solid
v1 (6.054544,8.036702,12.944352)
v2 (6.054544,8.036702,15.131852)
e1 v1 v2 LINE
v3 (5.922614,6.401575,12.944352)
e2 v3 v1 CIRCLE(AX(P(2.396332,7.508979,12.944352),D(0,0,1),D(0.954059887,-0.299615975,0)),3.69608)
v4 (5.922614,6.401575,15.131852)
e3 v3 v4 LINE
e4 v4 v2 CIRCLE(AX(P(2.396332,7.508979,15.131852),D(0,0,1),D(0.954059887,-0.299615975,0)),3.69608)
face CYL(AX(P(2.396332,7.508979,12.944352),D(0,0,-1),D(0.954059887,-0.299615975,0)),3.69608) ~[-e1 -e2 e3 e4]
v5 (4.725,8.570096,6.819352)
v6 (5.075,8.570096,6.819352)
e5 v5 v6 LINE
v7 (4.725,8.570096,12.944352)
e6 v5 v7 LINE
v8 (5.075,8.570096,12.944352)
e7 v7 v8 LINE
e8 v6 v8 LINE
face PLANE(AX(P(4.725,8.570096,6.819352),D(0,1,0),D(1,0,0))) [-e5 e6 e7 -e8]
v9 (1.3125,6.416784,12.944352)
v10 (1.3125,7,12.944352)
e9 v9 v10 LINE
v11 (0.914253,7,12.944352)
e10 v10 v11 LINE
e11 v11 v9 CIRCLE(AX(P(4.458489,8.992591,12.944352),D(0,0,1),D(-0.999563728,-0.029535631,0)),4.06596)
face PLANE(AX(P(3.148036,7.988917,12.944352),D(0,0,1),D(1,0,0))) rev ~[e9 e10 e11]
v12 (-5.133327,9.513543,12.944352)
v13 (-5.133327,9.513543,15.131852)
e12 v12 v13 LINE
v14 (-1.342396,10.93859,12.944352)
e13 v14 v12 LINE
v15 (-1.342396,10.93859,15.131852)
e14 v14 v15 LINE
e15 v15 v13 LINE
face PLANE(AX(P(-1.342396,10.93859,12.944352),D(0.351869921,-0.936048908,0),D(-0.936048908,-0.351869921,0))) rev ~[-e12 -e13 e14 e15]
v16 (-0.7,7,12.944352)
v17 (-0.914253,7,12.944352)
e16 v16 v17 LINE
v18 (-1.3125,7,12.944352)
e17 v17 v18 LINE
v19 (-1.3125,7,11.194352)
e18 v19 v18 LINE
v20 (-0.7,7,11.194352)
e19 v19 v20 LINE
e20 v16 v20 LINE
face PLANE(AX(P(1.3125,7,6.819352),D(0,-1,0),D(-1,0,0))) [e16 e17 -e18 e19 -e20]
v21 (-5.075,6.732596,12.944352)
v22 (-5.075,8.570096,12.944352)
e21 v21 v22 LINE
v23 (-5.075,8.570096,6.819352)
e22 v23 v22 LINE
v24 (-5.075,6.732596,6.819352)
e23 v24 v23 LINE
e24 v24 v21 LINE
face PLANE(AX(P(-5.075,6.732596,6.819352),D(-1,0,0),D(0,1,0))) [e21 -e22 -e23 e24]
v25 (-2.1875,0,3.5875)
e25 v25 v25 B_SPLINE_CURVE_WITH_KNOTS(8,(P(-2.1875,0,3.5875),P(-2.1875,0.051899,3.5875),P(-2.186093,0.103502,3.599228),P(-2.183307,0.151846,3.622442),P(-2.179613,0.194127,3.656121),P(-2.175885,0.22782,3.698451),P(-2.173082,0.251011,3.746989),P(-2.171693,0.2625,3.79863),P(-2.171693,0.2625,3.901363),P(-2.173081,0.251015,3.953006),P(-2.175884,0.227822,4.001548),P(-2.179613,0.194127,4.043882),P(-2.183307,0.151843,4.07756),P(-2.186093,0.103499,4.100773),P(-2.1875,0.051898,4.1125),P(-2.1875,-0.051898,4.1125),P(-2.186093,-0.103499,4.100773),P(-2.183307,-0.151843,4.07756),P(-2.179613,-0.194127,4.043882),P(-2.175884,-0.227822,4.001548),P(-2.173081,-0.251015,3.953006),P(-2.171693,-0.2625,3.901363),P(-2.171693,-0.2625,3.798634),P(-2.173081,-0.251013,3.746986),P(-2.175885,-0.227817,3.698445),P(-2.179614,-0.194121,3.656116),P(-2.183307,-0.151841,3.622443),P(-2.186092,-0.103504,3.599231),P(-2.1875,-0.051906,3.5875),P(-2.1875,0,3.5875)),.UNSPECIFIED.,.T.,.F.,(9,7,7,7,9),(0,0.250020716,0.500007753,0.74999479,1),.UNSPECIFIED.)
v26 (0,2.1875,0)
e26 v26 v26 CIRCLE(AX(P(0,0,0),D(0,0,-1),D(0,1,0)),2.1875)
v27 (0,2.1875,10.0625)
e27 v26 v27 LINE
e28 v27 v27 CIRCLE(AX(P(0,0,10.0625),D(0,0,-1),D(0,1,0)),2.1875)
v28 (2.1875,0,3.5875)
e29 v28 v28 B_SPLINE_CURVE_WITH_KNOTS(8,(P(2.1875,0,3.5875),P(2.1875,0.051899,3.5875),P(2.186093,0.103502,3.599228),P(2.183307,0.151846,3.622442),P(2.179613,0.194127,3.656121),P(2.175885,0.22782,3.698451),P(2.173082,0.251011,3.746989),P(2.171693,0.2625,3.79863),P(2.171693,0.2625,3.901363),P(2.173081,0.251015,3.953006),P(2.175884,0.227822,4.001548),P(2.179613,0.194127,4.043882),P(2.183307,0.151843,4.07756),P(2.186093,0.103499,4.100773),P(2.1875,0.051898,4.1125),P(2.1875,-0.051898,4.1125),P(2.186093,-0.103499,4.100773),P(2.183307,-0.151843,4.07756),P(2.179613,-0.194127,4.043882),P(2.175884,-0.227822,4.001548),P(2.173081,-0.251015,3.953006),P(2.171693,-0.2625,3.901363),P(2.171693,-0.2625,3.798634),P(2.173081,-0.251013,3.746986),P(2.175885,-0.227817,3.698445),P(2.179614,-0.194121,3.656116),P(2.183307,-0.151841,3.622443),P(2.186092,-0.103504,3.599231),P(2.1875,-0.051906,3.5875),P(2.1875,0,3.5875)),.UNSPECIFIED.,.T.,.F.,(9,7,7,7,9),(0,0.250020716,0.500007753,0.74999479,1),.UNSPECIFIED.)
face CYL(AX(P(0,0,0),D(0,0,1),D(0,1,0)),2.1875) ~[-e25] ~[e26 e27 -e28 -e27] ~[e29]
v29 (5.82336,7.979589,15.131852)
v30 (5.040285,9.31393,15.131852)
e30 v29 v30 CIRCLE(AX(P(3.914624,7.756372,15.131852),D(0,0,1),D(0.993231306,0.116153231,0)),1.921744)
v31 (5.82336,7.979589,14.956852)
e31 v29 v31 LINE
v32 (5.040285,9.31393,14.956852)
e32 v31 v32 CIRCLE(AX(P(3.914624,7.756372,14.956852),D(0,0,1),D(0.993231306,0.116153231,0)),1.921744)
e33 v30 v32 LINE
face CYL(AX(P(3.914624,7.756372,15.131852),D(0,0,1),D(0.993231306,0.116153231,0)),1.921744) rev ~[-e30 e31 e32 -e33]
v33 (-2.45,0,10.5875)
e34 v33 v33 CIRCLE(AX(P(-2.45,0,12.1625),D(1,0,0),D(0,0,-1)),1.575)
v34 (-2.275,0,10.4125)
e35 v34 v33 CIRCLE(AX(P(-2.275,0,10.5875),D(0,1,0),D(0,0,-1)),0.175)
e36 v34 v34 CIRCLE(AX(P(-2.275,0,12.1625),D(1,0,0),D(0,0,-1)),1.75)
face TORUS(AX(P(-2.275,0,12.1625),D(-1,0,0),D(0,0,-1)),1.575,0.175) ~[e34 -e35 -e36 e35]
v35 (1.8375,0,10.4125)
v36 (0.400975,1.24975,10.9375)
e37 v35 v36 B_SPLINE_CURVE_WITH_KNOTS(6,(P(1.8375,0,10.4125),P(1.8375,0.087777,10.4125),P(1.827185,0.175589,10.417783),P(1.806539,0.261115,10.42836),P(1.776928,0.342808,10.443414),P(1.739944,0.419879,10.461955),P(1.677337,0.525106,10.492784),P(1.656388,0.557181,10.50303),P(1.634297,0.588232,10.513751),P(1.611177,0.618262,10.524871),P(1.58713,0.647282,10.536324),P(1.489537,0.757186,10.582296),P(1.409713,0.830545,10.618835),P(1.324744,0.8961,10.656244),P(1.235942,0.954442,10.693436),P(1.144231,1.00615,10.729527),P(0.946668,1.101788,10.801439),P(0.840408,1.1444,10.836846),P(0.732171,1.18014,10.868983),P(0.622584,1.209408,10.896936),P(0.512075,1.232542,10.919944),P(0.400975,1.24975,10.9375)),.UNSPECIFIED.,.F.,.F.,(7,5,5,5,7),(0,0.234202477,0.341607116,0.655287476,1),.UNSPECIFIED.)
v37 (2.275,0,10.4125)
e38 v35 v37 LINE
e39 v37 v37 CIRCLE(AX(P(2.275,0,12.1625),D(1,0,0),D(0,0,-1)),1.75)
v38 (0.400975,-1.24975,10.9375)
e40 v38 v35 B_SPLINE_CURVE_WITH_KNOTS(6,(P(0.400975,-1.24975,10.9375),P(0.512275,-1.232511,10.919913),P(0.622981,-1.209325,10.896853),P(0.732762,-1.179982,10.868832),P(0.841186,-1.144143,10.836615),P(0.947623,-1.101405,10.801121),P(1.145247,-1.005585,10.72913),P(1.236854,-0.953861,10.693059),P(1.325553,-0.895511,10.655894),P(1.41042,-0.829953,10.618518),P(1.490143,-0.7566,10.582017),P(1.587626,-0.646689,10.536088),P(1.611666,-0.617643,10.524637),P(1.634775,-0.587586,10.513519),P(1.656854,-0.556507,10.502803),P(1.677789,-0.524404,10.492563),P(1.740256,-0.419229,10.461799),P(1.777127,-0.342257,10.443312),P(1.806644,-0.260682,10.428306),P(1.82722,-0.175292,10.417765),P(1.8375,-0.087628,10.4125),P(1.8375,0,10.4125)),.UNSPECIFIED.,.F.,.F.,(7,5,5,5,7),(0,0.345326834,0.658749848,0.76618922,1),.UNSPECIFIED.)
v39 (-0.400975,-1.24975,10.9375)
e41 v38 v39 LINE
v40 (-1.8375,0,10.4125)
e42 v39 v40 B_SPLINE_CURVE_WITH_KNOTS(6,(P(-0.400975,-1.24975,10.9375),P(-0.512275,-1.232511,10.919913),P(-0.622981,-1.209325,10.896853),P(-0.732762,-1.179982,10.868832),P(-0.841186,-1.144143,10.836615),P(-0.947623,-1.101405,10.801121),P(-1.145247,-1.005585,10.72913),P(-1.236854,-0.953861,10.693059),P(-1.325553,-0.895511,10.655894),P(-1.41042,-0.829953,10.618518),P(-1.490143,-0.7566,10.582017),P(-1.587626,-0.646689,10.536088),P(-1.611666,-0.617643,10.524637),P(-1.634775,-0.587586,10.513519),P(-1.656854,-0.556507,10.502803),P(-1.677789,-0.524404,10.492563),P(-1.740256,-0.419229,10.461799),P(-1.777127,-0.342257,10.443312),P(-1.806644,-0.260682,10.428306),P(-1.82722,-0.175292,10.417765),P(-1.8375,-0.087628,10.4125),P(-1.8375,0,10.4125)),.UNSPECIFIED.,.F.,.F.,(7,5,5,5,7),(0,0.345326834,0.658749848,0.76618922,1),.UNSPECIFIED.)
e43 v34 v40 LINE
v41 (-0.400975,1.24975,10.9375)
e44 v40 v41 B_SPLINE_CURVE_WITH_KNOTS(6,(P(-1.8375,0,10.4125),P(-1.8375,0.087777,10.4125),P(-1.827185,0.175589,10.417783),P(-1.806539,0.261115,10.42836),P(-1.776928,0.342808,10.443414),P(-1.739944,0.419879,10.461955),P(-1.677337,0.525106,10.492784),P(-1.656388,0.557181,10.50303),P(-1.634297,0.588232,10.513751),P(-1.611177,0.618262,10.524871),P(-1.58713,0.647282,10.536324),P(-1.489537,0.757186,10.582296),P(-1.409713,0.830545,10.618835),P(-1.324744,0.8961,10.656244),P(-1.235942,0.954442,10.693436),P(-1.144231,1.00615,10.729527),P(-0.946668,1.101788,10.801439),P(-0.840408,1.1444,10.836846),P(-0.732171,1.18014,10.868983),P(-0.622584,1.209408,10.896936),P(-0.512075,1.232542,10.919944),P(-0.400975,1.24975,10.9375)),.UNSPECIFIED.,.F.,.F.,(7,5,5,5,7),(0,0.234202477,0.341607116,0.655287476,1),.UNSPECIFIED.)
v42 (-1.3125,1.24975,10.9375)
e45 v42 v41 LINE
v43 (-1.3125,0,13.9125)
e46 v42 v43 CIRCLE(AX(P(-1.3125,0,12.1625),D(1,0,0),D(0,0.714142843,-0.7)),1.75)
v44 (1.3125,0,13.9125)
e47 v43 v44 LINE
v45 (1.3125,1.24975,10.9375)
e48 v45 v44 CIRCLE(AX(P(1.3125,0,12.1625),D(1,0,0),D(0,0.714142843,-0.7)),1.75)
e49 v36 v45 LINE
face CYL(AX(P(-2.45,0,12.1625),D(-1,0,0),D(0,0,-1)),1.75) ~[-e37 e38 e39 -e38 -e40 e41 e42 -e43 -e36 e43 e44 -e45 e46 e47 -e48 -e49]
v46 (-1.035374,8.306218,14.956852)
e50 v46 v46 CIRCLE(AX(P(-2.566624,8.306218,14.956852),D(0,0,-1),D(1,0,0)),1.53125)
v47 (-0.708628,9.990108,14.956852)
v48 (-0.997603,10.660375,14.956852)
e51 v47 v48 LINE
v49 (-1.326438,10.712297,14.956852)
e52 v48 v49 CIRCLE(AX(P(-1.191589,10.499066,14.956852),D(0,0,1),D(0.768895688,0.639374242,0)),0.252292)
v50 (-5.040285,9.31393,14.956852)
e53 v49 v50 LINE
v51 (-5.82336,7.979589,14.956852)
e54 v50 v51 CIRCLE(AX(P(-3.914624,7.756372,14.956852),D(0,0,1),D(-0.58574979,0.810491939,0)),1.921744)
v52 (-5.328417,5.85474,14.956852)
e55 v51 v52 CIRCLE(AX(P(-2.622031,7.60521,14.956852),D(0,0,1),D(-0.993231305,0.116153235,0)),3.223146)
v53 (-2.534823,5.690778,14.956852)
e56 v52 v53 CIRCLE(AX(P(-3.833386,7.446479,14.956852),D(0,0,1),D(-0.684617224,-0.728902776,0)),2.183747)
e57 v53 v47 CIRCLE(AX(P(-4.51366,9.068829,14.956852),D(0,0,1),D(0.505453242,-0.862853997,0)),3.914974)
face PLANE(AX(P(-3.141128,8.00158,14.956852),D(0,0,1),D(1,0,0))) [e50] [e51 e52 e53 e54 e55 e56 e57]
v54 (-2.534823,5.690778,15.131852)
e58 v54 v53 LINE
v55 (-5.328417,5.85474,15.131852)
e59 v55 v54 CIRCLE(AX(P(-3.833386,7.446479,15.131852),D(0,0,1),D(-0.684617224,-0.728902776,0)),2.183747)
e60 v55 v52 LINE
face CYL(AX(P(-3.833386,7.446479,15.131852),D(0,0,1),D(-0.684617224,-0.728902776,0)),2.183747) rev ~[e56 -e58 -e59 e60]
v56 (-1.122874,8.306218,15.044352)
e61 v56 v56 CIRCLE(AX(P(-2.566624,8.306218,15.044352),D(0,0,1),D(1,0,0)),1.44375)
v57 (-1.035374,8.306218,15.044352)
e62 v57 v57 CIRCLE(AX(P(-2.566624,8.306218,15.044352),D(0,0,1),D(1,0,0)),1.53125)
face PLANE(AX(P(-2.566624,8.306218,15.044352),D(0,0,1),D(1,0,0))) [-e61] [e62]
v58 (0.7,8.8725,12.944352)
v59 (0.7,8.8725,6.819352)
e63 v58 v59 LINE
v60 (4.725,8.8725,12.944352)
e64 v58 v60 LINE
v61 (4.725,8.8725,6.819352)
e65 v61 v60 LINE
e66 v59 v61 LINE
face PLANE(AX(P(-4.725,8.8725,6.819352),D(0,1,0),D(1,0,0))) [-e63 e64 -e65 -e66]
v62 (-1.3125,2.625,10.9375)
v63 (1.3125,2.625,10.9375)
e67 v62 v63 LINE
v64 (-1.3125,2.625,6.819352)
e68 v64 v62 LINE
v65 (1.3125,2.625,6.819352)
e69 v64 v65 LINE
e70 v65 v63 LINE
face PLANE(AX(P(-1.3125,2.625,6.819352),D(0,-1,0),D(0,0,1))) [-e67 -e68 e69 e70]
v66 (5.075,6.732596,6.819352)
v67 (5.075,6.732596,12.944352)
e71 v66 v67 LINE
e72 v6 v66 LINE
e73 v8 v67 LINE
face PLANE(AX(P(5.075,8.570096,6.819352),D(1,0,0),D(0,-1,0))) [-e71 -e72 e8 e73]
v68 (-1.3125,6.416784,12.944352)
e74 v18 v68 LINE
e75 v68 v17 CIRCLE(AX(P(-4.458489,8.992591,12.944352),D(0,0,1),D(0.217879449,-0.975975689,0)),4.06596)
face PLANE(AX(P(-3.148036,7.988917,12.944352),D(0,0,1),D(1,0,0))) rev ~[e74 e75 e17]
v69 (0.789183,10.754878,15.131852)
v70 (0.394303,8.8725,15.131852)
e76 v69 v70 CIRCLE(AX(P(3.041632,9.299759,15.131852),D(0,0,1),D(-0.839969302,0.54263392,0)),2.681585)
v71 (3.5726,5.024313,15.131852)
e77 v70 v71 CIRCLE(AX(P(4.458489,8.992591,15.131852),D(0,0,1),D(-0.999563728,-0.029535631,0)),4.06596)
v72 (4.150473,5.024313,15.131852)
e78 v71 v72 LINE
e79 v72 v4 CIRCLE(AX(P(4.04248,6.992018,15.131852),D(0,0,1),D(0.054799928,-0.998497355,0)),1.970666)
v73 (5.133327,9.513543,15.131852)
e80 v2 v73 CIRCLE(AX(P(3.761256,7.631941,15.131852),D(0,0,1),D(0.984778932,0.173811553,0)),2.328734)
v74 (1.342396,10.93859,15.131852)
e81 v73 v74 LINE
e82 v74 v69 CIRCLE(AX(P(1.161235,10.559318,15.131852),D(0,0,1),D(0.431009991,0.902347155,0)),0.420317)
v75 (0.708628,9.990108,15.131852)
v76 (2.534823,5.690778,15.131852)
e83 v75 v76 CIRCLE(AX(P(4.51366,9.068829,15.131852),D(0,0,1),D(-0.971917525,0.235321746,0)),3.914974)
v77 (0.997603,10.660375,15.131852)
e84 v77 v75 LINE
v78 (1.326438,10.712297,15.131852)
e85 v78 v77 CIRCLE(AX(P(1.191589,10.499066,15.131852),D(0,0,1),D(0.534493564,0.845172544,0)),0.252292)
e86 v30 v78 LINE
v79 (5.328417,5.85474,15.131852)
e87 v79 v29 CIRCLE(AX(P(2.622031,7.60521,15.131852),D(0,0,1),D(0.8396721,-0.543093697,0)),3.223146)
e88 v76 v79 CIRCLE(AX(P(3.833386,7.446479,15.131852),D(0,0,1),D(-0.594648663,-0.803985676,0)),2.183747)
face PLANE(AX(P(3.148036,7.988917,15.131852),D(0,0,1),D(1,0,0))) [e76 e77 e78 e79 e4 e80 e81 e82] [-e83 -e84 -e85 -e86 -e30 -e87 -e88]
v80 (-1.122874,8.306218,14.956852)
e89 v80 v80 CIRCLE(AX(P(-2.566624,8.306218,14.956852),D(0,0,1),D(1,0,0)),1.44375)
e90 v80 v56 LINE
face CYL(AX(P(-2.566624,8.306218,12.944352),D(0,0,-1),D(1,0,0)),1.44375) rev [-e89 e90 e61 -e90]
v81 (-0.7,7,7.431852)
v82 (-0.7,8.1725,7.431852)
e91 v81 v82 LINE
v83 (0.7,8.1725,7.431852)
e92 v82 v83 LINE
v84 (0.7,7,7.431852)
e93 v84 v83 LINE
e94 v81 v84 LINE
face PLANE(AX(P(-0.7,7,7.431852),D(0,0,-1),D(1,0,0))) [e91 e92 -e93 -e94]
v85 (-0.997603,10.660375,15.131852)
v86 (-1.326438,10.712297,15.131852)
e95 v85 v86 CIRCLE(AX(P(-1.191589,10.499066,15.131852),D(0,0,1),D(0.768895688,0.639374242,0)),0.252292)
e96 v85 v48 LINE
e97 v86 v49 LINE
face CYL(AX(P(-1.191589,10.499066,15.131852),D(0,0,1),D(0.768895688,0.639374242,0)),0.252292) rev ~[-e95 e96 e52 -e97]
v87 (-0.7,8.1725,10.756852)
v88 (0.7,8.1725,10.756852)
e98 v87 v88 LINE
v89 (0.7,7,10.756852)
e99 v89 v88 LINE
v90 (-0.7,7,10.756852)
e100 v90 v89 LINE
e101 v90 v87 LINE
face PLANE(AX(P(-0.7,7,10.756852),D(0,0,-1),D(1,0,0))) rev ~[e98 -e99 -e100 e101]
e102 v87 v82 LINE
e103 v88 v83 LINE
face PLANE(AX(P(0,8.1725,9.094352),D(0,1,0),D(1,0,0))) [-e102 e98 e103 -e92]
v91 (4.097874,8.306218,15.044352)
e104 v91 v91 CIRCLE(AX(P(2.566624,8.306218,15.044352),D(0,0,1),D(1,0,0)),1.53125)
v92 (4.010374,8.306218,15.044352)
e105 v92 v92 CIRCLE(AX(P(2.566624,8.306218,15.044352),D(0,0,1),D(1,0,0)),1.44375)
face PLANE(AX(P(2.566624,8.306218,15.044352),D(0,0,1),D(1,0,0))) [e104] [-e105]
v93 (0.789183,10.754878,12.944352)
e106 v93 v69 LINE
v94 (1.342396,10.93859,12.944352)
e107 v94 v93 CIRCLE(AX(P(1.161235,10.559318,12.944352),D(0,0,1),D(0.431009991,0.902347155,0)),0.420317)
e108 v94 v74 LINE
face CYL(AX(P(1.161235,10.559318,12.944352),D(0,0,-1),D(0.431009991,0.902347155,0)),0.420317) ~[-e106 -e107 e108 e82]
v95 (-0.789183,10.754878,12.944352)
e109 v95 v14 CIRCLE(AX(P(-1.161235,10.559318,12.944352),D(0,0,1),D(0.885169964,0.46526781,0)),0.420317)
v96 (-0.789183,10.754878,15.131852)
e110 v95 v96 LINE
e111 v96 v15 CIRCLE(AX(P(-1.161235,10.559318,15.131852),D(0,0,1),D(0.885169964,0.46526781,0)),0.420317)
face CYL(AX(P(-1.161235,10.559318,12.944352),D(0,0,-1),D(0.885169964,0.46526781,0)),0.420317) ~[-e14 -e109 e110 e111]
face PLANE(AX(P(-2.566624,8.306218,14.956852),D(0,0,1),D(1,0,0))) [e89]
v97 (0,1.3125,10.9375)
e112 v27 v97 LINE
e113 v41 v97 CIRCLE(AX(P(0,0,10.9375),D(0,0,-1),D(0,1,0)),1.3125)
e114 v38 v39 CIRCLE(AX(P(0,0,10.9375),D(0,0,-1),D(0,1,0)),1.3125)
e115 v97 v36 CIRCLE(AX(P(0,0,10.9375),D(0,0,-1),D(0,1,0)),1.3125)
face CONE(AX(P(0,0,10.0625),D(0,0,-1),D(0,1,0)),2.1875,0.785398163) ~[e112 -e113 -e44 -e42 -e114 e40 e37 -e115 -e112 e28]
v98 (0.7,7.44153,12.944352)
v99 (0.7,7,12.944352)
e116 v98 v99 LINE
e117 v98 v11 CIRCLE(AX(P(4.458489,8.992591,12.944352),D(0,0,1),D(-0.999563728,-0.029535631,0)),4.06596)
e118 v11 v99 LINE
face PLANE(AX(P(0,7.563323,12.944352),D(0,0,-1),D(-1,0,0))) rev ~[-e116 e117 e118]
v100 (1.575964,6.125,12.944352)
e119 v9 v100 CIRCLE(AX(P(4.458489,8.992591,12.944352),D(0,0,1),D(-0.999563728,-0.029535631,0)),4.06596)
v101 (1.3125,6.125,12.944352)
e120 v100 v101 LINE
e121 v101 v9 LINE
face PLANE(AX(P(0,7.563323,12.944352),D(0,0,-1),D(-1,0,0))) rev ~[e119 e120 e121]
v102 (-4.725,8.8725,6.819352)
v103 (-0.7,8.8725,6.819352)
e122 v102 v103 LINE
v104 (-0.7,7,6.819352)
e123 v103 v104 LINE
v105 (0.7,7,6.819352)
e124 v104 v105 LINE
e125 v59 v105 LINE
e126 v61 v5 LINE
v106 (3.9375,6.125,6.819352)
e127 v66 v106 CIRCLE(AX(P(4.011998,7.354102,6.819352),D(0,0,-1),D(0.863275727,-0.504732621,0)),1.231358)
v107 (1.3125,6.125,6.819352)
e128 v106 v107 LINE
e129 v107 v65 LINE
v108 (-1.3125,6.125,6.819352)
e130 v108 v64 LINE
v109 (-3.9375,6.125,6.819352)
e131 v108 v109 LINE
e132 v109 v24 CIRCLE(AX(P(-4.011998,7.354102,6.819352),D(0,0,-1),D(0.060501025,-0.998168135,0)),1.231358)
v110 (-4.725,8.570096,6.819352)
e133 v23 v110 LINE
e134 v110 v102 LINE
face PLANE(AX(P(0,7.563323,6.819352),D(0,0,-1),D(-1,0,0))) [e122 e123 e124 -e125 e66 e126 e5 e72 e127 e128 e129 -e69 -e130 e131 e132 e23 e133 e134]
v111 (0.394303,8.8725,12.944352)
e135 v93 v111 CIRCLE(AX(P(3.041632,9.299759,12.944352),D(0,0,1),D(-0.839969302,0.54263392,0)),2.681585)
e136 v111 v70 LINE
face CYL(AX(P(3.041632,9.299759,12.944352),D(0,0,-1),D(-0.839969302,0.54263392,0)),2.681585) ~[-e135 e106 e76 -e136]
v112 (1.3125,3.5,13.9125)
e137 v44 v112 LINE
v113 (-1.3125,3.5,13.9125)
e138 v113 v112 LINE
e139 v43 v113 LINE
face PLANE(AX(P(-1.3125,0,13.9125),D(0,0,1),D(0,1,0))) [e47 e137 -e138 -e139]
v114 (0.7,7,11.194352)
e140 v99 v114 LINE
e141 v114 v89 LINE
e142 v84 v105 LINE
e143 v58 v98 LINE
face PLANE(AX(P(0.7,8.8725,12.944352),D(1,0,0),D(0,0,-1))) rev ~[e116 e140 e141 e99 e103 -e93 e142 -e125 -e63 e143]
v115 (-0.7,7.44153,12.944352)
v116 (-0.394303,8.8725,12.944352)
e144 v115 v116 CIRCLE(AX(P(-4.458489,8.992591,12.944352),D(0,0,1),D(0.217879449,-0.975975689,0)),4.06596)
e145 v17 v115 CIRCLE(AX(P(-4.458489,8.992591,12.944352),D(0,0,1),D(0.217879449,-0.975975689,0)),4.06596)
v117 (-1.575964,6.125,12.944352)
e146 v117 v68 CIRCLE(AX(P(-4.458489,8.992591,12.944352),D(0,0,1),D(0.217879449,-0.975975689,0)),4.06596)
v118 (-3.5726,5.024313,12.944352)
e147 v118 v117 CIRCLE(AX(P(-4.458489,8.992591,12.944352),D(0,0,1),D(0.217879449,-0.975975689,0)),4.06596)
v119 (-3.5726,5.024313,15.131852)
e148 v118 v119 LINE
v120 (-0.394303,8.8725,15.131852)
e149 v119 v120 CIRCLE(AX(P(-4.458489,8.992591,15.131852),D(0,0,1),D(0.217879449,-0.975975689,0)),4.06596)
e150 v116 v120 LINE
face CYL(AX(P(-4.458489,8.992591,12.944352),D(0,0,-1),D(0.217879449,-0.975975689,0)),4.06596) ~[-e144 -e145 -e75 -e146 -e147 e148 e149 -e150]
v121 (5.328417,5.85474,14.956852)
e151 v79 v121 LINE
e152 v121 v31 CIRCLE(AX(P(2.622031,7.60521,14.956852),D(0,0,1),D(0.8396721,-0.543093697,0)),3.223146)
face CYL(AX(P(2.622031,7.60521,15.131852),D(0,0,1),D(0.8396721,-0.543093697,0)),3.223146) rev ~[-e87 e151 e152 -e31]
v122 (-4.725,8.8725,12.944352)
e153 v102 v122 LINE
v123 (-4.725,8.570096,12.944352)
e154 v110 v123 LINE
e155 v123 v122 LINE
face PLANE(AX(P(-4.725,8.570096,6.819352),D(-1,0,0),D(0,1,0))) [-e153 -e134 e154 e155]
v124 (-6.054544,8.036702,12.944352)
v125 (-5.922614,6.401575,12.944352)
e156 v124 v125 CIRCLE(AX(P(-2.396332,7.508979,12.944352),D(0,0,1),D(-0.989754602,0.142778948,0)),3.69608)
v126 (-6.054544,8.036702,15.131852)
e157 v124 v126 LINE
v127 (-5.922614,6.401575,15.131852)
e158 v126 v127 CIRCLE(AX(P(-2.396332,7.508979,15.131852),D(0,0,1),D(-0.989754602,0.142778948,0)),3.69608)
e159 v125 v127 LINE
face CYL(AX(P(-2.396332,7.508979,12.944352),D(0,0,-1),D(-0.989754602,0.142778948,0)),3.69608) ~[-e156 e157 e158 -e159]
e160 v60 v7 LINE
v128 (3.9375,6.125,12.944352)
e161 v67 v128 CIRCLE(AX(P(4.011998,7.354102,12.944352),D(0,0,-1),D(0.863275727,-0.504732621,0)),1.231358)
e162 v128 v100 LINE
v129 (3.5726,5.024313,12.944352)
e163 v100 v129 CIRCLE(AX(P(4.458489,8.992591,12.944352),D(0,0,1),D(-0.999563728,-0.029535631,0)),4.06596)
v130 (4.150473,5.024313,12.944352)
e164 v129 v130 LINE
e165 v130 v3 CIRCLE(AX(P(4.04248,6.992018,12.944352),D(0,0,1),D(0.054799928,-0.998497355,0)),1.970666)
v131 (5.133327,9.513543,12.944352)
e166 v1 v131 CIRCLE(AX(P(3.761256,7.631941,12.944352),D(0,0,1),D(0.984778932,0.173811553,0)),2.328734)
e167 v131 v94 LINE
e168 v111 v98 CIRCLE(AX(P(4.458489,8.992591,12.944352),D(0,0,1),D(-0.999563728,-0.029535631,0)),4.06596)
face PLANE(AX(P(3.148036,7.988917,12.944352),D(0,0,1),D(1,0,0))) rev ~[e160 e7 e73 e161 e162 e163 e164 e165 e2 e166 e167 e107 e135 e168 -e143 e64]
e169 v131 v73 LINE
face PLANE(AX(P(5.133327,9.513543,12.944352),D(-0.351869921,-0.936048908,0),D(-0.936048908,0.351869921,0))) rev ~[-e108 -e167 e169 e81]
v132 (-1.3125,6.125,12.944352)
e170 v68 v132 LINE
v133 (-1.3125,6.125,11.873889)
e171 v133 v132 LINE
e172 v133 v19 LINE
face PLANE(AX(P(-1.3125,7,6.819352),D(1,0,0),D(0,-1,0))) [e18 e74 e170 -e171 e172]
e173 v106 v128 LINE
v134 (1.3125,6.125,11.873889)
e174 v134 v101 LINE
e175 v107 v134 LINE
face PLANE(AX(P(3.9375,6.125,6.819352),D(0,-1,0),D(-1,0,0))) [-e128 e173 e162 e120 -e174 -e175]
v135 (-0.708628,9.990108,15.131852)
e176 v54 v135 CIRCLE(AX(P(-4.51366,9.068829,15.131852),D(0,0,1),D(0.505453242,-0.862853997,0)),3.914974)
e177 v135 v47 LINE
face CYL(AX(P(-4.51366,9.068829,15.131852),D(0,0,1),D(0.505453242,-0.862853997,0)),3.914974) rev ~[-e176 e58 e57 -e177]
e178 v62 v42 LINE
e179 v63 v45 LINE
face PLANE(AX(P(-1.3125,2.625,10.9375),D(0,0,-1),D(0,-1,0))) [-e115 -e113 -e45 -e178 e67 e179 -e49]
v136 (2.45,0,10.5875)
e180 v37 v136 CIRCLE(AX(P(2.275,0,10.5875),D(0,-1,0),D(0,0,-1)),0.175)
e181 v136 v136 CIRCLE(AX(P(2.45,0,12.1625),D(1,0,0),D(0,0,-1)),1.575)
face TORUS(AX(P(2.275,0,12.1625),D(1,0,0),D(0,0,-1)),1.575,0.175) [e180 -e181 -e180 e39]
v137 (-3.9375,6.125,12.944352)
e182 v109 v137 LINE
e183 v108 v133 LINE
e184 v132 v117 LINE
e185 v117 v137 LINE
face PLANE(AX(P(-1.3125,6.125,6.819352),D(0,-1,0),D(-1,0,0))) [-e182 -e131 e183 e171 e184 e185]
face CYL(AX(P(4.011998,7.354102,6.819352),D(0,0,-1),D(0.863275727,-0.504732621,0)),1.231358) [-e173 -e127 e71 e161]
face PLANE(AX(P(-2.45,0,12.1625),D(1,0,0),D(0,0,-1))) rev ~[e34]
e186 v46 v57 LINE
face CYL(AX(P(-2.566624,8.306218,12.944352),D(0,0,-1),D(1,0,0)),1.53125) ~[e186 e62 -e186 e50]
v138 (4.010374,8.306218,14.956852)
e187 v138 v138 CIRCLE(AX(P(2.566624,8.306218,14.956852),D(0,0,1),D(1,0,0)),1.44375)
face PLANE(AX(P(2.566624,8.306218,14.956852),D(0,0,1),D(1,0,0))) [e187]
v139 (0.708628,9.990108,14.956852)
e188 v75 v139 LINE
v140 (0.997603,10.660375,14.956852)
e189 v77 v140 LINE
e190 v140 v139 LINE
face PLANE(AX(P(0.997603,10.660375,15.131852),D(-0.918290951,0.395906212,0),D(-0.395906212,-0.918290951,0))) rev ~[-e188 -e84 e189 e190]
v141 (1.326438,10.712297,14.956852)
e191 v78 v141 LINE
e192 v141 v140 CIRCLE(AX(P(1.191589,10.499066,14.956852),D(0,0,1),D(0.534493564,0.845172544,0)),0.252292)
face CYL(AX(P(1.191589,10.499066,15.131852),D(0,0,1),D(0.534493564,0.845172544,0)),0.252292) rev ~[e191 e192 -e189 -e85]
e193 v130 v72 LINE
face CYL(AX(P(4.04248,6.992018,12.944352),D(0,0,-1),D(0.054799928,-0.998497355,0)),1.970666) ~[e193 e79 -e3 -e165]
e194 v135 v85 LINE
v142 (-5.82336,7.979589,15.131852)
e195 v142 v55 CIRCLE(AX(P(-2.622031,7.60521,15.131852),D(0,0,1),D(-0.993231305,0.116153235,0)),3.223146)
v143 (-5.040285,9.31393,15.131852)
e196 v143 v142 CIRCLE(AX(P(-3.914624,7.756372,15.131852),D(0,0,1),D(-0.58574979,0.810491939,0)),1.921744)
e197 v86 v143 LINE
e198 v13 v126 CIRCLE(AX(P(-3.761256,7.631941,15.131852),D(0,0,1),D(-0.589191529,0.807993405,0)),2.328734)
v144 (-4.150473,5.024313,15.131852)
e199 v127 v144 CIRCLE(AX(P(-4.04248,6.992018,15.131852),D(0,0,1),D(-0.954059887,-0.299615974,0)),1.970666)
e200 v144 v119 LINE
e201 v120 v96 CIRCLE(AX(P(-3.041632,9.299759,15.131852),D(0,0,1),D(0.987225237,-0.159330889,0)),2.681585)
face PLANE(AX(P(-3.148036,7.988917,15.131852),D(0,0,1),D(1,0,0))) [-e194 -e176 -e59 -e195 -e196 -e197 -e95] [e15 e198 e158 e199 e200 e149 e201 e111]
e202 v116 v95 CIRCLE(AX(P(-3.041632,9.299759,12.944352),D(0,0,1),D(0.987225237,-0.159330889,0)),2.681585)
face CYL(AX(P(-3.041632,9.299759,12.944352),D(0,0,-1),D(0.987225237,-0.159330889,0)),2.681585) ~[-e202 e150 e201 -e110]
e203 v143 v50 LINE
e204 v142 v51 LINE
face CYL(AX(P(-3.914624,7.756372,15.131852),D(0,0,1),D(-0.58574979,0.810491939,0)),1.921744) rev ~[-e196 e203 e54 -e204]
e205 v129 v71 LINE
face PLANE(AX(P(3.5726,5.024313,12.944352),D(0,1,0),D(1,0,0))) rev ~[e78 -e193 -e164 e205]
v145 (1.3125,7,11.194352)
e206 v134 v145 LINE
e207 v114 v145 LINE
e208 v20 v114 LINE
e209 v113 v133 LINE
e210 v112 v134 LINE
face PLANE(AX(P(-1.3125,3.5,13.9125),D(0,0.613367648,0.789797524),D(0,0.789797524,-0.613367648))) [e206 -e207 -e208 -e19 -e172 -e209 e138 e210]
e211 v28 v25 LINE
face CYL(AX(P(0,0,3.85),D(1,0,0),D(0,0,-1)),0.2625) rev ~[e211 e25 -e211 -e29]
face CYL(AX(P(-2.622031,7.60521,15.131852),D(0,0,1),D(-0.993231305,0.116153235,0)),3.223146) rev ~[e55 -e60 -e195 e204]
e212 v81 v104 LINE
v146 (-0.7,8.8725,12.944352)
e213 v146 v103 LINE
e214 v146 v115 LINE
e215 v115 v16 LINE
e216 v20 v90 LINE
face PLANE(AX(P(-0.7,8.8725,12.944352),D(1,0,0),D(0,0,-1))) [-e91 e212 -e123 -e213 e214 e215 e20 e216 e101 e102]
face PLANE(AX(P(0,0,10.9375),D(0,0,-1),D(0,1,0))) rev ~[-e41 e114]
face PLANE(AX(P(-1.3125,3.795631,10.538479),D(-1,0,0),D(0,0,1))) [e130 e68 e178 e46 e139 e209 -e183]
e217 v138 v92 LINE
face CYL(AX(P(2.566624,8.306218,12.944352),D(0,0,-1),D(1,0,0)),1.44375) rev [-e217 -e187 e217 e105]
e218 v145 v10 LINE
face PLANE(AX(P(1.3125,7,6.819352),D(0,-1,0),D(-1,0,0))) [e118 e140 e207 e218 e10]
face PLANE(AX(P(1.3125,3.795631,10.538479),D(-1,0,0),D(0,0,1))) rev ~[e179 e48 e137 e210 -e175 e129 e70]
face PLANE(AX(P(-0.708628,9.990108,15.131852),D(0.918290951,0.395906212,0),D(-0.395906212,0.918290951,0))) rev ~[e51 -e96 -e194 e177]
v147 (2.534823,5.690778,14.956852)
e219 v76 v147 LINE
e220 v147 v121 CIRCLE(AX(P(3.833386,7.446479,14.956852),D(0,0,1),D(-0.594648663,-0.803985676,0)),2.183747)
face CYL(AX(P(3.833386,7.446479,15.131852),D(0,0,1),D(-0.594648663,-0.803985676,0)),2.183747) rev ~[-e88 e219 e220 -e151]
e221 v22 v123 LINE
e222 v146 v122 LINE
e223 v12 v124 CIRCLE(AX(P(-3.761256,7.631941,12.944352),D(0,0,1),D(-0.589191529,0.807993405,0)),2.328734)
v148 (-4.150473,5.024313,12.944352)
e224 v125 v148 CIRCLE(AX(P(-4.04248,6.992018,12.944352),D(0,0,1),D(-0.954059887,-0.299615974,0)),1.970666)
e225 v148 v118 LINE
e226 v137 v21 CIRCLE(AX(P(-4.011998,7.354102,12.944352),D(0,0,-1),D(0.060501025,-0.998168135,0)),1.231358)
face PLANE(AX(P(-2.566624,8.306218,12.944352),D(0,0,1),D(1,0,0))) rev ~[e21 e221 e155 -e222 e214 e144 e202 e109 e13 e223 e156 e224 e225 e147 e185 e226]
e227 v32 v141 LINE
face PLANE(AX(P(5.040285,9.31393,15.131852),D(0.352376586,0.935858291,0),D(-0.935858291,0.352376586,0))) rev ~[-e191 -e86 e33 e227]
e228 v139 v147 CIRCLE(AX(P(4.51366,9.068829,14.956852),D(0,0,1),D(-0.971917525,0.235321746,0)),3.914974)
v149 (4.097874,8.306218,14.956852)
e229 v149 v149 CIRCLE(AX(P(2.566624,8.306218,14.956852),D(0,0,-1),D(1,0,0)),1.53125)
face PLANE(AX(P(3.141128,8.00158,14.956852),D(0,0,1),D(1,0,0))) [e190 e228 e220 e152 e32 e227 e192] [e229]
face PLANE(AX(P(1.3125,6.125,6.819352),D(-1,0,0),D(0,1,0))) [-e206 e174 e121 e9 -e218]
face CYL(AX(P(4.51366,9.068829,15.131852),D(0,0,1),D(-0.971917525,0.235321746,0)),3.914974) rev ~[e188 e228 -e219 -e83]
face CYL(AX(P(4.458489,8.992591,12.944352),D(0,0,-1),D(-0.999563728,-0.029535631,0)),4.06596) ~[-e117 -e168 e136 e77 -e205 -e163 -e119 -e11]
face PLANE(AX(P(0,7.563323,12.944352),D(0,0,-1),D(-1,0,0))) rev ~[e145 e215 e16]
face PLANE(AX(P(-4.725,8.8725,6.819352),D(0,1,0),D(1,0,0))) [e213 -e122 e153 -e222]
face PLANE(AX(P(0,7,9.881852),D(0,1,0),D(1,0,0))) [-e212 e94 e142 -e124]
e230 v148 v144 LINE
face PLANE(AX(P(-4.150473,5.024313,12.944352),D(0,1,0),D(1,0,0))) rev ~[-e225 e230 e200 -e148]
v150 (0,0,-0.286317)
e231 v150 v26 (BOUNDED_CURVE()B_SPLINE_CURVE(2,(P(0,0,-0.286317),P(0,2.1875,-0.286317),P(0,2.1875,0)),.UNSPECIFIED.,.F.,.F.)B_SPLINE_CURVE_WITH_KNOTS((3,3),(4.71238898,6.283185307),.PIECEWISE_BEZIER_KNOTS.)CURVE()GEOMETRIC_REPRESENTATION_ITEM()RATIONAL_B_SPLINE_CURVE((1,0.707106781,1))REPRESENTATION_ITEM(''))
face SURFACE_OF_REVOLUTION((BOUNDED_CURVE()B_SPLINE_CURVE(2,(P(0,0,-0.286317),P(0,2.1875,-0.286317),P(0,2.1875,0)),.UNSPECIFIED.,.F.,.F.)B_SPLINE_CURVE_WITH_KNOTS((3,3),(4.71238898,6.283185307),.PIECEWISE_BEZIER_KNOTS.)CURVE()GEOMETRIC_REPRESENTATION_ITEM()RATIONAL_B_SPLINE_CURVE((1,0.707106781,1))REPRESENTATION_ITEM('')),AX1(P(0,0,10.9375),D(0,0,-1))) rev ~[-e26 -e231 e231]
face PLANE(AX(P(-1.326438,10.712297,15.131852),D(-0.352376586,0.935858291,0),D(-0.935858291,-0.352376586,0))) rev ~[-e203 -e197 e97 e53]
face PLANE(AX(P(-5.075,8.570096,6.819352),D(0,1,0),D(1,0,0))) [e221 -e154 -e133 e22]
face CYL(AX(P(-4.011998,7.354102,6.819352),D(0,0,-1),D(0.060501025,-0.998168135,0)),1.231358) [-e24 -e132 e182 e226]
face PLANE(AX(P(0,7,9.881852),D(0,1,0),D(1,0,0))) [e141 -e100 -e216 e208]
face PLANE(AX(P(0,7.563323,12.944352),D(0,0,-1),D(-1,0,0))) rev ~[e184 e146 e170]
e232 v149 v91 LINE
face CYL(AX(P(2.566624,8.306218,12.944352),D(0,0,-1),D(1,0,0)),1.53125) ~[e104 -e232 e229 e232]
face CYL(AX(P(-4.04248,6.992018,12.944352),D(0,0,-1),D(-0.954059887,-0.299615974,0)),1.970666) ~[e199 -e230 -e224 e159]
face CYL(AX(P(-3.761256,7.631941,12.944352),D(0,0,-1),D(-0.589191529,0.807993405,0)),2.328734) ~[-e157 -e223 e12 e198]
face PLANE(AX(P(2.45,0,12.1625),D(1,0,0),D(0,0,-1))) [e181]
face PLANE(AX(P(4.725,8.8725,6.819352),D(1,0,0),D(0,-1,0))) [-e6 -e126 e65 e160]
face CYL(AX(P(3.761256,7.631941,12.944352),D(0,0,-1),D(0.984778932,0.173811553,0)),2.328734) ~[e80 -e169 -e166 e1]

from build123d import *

# Parameters (mm, degrees)
HINGE_CONNECTED_TO_BOTTOM_TUBE_DEPTH      = 1.4
HINGE_CONNECTED_TO_BOTTOM_TUBE_DEPTH_BACK = 1.4
SKETCH3_R                                 = 1
FILLET_ON_HINGE_R                         = 0.1
BASE_CONNECTED_TO_EYES_DEPTH              = 0.75
BASE_CONNECTED_TO_EYES_DEPTH_BACK         = 0.75
EYE_BACKING_DEPTH                         = 3.5
SKETCH7_W                                 = 0.8
SKETCH7_H                                 = 3.5
EYE_BACKING_DETAILS_DEPTH                 = 1.07
SKETCH8_W                                 = 0.8
SKETCH8_H                                 = 1.9
MIDDLE_OF_EYE_BACKING_DEPTH               = 0.67
SKETCH12_R                                = 0.875
OUTER_EYE_DEPTH                           = 1.25
INNER_EYE_CUT_DEPTH                       = 0.1
SKETCH12_5_R                              = 0.875
SKETCH12_5_R_2                            = 0.825
OUTER_LENS_DEPTH                          = 1.2
SKETCH12_7_R                              = 0.825
INNER_LENS_CUT_DEPTH                      = 1.15
CUT_EXTRUDE3_REACH                        = 13.236
SKETCH15_R                                = 0.15
CUT_EXTRUDE3_DIRECTION_2_REACH            = 13.236
SKETCH12_6_R                              = 0.825
BOSS_EXTRUDE16_DEPTH                      = 1.15
SCALE1_SCALE                              = 1.75


with BuildPart() as part:
    # Sketch2 → Bottom tube (revolve)
    with BuildSketch(Plane(origin=(0, 0, 0), x_dir=(0, 0, -1), z_dir=(1, 0, 0))):
        with BuildLine():
            Line((-6.25, 0), (0.163609492, 0))
            add(Edge.make_bspline(
                [(0.163609492, 0), (0.163609492, 1.25), (0, 1.25)],
                knots=[4.71238898, 4.71238898, 4.71238898, 6.283185307, 6.283185307, 6.283185307], degree=2, weights=[1, 0.707106781, 1]))
            Line((0, 1.25), (-5.75, 1.25))
            Line((-5.75, 1.25), (-6.25, 0.75))
            Line((-6.25, 0.75), (-6.25, 0))
        make_face()
    revolve(axis=Axis((0, 0, 6.25), (0, 0, -1)))

    # Sketch3 → Hinge connected to bottom tube (add, two sides: drawn at the far end of the back side and taken through both)
    with BuildSketch(Plane(origin=(0, 0, 0), x_dir=(0, 0, -1), z_dir=(1, 0, 0)).offset(-HINGE_CONNECTED_TO_BOTTOM_TUBE_DEPTH_BACK)):
        with Locations((-6.95, 0)):
            Circle(SKETCH3_R)
    extrude(amount=HINGE_CONNECTED_TO_BOTTOM_TUBE_DEPTH + HINGE_CONNECTED_TO_BOTTOM_TUBE_DEPTH_BACK)

    # fillet on hinge
    fillet_on_hinge_edges = [part.edges().sort_by_distance(p)[0] for p in [
        (1.4, 0, 7.95),
        (-1.4, 0, 7.95),
    ]]
    fillet(fillet_on_hinge_edges, radius=FILLET_ON_HINGE_R)

    # Sketch4 → base connected to eyes (add, two sides: drawn at the far end of the back side and taken through both)
    with BuildSketch(Plane(origin=(0, 0, 0), x_dir=(0, 0, -1), z_dir=(1, 0, 0)).offset(-BASE_CONNECTED_TO_EYES_DEPTH_BACK)):
        with BuildLine():
            Line((-7.95, 0), (-7.95, 2))
            Line((-7.95, 2), (-6.39677242, 4))
            Line((-6.39677242, 4), (-3.89677242, 4))
            Line((-3.89677242, 4), (-3.89677242, 1.5))
            Line((-3.89677242, 1.5), (-6.25, 1.5))
            Line((-6.25, 1.5), (-6.25, 0.714142843))
            ThreePointArc((-6.25, 0.714142843), (-7.337298335, 0.921954446), (-7.95, 0))
        make_face()
    extrude(amount=BASE_CONNECTED_TO_EYES_DEPTH + BASE_CONNECTED_TO_EYES_DEPTH_BACK)

    # Sketch5 → Eye backing (add)
    with BuildSketch(Plane(origin=(0, 0, 3.89677242), x_dir=(-1, 0, 0), z_dir=(0, 0, -1))):
        with BuildLine():
            Line((0.75, 3.5), (2.25, 3.5))
            ThreePointArc((2.25, 3.5), (2.62408667, 3.581702047), (2.9, 3.847197614))
            Line((2.9, 3.847197614), (2.9, 4.897197614))
            Line((2.9, 4.897197614), (2.7, 4.897197614))
            Line((2.7, 4.897197614), (2.7, 5.07))
            Line((2.7, 5.07), (-2.7, 5.07))
            Line((-2.7, 5.07), (-2.7, 4.897197614))
            Line((-2.7, 4.897197614), (-2.9, 4.897197614))
            Line((-2.9, 4.897197614), (-2.9, 3.847197614))
            ThreePointArc((-2.9, 3.847197614), (-2.62408667, 3.581702047), (-2.25, 3.5))
            Line((-2.25, 3.5), (-0.75, 3.5))
            Line((-0.75, 3.5), (-0.75, 4))
            Line((-0.75, 4), (0.75, 4))
            Line((0.75, 4), (0.75, 3.5))
        make_face()
    extrude(amount=-EYE_BACKING_DEPTH)

    # Sketch7 → Eye backing details (cut)
    with BuildSketch(Plane(origin=(0, 5.07, 0), x_dir=(1, 0, 0), z_dir=(0, 1, 0))):
        with Locations((0, -5.64677242)):
            Rectangle(SKETCH7_W, SKETCH7_H)
    extrude(amount=-EYE_BACKING_DETAILS_DEPTH, mode=Mode.SUBTRACT)

    # Sketch8 → Middle of eye backing (add)
    with BuildSketch(Plane(origin=(0, 4, 0), x_dir=(1, 0, 0), z_dir=(0, 1, 0))):
        with Locations((0, -5.19677242)):
            Rectangle(SKETCH8_W, SKETCH8_H)
    extrude(amount=MIDDLE_OF_EYE_BACKING_DEPTH)

    # Sketch12 → Outer eye (add)
    # profile 1 of 2: a face of its own
    with BuildSketch(Plane.XY.offset(7.39677242)):
        with BuildLine():
            ThreePointArc((-0.450961505, 6.145644801), (-0.587867618, 6.261837628), (-0.767083386, 6.250623109))
            Line((-0.767083386, 6.250623109), (-2.933329516, 5.436310045))
            ThreePointArc((-2.933329516, 5.436310045), (-3.278345677, 5.065387345), (-3.459739663, 4.592401064))
            ThreePointArc((-3.459739663, 4.592401064), (-3.474536987, 4.120986543), (-3.384350783, 3.658042637))
            ThreePointArc((-3.384350783, 3.658042637), (-3.001009551, 3.106292928), (-2.371698574, 2.871035758))
            Line((-2.371698574, 2.871035758), (-2.041485898, 2.871035758))
            ThreePointArc((-2.041485898, 2.871035758), (-0.756304939, 3.659066468), (-0.225316176, 5.07))
            ThreePointArc((-0.225316176, 5.07), (-0.238383659, 5.628748724), (-0.450961505, 6.145644801))
        make_face()
        with Locations((-1.466642551, 4.746410471)):
            Circle(SKETCH12_R, mode=Mode.SUBTRACT)
    # profile 2 of 2: a face of its own
    with BuildSketch(Plane.XY.offset(7.39677242)):
        with BuildLine():
            Line((2.041485898, 2.871035758), (2.371698574, 2.871035758))
            ThreePointArc((2.371698574, 2.871035758), (3.001009551, 3.106292928), (3.384350783, 3.658042637))
            ThreePointArc((3.384350783, 3.658042637), (3.474536987, 4.120986543), (3.459739663, 4.592401064))
            ThreePointArc((3.459739663, 4.592401064), (3.278345677, 5.065387345), (2.933329516, 5.436310045))
            Line((2.933329516, 5.436310045), (0.767083386, 6.250623109))
            ThreePointArc((0.767083386, 6.250623109), (0.587867618, 6.261837628), (0.450961505, 6.145644801))
            ThreePointArc((0.450961505, 6.145644801), (0.238383659, 5.628748724), (0.225316176, 5.07))
            ThreePointArc((0.225316176, 5.07), (0.756304939, 3.659066468), (2.041485898, 2.871035758))
        make_face()
        with Locations((1.466642551, 4.746410471)):
            Circle(SKETCH12_R, mode=Mode.SUBTRACT)
    extrude(amount=OUTER_EYE_DEPTH)

    # Sketch13 → Inner eye cut (cut)
    with BuildSketch(Plane.XY.offset(8.64677242)):
        with BuildLine():
            Line((-0.757964351, 6.121312443), (-2.880162803, 5.322245904))
            ThreePointArc((-2.880162803, 5.322245904), (-3.184019481, 4.988025414), (-3.327634423, 4.55976502))
            ThreePointArc((-3.327634423, 4.55976502), (-3.29208127, 3.928007422), (-3.044809473, 3.345565711))
            ThreePointArc((-3.044809473, 3.345565711), (-2.263619647, 3.009419304), (-1.448470515, 3.251873102))
            ThreePointArc((-1.448470515, 3.251873102), (-0.52016025, 4.307569927), (-0.404930121, 5.708633007))
            Line((-0.404930121, 5.708633007), (-0.570058708, 6.091643131))
            ThreePointArc((-0.570058708, 6.091643131), (-0.658423401, 6.141869268), (-0.757964351, 6.121312443))
        make_face()
        with BuildLine():
            Line((0.570058708, 6.091643131), (0.404930121, 5.708633007))
            ThreePointArc((0.404930121, 5.708633007), (0.52016025, 4.307569927), (1.448470515, 3.251873102))
            ThreePointArc((1.448470515, 3.251873102), (2.263619647, 3.009419304), (3.044809473, 3.345565711))
            ThreePointArc((3.044809473, 3.345565711), (3.29208127, 3.928007422), (3.327634423, 4.55976502))
            ThreePointArc((3.327634423, 4.55976502), (3.184019481, 4.988025414), (2.880162803, 5.322245904))
            Line((2.880162803, 5.322245904), (0.757964351, 6.121312443))
            ThreePointArc((0.757964351, 6.121312443), (0.658423401, 6.141869268), (0.570058708, 6.091643131))
        make_face()
    extrude(amount=-INNER_EYE_CUT_DEPTH, mode=Mode.SUBTRACT)

    # Sketch12<5> → Outer lens (add)
    # profile 1 of 2: a face of its own
    with BuildSketch(Plane.XY.offset(7.39677242)):
        with Locations((-1.466642551, 4.746410471)):
            Circle(SKETCH12_5_R)
        with Locations((-1.466642551, 4.746410471)):
            Circle(SKETCH12_5_R_2, mode=Mode.SUBTRACT)
    # profile 2 of 2: a face of its own
    with BuildSketch(Plane.XY.offset(7.39677242)):
        with Locations((1.466642551, 4.746410471)):
            Circle(SKETCH12_5_R)
        with Locations((1.466642551, 4.746410471)):
            Circle(SKETCH12_5_R_2, mode=Mode.SUBTRACT)
    extrude(amount=OUTER_LENS_DEPTH)

    # Sketch12<7> → Inner lens cut (add)
    with BuildSketch(Plane.XY.offset(7.39677242)):
        with Locations((-1.466642551, 4.746410471)):
            Circle(SKETCH12_7_R)
        with Locations((1.466642551, 4.746410471)):
            Circle(SKETCH12_7_R)
    extrude(amount=INNER_LENS_CUT_DEPTH)

    # Sketch15 → Cut-Extrude3 (cut, up to next)
    with BuildSketch(Plane(origin=(0, 0, 0), x_dir=(0, 0, -1), z_dir=(1, 0, 0)), mode=Mode.PRIVATE) as cut_extrude3_sk1:
        with Locations((-2.2, 0)):
            Circle(SKETCH15_R)
    cut_extrude3_tool1 = extrude(cut_extrude3_sk1.sketch, amount=-CUT_EXTRUDE3_REACH, mode=Mode.PRIVATE) & part.part
    add(cut_extrude3_tool1.solids().sort_by_distance((0, 0, 2.2))[0], mode=Mode.SUBTRACT)

    # Sketch15 → Cut-Extrude3 direction 2 (cut, up to next)
    with BuildSketch(Plane(origin=(0, 0, 0), x_dir=(0, 0, -1), z_dir=(1, 0, 0)), mode=Mode.PRIVATE) as cut_extrude3_direction_2_sk1:
        with Locations((-2.2, 0)):
            Circle(SKETCH15_R)
    cut_extrude3_direction_2_tool1 = extrude(cut_extrude3_direction_2_sk1.sketch, amount=CUT_EXTRUDE3_DIRECTION_2_REACH, mode=Mode.PRIVATE) & part.part
    add(cut_extrude3_direction_2_tool1.solids().sort_by_distance((0, 0, 2.2))[0], mode=Mode.SUBTRACT)

    # Sketch12<6> → Boss-Extrude16 (add)
    with BuildSketch(Plane.XY.offset(7.39677242)):
        with Locations((-1.466642551, 4.746410471)):
            Circle(SKETCH12_6_R)
        with Locations((1.466642551, 4.746410471)):
            Circle(SKETCH12_6_R)
    extrude(amount=BOSS_EXTRUDE16_DEPTH)


with BuildPart() as part_1:
    # Scale1: scaled about (0, 0, 0)
    add(part.part.scale(SCALE1_SCALE))


solid = part_1.part
